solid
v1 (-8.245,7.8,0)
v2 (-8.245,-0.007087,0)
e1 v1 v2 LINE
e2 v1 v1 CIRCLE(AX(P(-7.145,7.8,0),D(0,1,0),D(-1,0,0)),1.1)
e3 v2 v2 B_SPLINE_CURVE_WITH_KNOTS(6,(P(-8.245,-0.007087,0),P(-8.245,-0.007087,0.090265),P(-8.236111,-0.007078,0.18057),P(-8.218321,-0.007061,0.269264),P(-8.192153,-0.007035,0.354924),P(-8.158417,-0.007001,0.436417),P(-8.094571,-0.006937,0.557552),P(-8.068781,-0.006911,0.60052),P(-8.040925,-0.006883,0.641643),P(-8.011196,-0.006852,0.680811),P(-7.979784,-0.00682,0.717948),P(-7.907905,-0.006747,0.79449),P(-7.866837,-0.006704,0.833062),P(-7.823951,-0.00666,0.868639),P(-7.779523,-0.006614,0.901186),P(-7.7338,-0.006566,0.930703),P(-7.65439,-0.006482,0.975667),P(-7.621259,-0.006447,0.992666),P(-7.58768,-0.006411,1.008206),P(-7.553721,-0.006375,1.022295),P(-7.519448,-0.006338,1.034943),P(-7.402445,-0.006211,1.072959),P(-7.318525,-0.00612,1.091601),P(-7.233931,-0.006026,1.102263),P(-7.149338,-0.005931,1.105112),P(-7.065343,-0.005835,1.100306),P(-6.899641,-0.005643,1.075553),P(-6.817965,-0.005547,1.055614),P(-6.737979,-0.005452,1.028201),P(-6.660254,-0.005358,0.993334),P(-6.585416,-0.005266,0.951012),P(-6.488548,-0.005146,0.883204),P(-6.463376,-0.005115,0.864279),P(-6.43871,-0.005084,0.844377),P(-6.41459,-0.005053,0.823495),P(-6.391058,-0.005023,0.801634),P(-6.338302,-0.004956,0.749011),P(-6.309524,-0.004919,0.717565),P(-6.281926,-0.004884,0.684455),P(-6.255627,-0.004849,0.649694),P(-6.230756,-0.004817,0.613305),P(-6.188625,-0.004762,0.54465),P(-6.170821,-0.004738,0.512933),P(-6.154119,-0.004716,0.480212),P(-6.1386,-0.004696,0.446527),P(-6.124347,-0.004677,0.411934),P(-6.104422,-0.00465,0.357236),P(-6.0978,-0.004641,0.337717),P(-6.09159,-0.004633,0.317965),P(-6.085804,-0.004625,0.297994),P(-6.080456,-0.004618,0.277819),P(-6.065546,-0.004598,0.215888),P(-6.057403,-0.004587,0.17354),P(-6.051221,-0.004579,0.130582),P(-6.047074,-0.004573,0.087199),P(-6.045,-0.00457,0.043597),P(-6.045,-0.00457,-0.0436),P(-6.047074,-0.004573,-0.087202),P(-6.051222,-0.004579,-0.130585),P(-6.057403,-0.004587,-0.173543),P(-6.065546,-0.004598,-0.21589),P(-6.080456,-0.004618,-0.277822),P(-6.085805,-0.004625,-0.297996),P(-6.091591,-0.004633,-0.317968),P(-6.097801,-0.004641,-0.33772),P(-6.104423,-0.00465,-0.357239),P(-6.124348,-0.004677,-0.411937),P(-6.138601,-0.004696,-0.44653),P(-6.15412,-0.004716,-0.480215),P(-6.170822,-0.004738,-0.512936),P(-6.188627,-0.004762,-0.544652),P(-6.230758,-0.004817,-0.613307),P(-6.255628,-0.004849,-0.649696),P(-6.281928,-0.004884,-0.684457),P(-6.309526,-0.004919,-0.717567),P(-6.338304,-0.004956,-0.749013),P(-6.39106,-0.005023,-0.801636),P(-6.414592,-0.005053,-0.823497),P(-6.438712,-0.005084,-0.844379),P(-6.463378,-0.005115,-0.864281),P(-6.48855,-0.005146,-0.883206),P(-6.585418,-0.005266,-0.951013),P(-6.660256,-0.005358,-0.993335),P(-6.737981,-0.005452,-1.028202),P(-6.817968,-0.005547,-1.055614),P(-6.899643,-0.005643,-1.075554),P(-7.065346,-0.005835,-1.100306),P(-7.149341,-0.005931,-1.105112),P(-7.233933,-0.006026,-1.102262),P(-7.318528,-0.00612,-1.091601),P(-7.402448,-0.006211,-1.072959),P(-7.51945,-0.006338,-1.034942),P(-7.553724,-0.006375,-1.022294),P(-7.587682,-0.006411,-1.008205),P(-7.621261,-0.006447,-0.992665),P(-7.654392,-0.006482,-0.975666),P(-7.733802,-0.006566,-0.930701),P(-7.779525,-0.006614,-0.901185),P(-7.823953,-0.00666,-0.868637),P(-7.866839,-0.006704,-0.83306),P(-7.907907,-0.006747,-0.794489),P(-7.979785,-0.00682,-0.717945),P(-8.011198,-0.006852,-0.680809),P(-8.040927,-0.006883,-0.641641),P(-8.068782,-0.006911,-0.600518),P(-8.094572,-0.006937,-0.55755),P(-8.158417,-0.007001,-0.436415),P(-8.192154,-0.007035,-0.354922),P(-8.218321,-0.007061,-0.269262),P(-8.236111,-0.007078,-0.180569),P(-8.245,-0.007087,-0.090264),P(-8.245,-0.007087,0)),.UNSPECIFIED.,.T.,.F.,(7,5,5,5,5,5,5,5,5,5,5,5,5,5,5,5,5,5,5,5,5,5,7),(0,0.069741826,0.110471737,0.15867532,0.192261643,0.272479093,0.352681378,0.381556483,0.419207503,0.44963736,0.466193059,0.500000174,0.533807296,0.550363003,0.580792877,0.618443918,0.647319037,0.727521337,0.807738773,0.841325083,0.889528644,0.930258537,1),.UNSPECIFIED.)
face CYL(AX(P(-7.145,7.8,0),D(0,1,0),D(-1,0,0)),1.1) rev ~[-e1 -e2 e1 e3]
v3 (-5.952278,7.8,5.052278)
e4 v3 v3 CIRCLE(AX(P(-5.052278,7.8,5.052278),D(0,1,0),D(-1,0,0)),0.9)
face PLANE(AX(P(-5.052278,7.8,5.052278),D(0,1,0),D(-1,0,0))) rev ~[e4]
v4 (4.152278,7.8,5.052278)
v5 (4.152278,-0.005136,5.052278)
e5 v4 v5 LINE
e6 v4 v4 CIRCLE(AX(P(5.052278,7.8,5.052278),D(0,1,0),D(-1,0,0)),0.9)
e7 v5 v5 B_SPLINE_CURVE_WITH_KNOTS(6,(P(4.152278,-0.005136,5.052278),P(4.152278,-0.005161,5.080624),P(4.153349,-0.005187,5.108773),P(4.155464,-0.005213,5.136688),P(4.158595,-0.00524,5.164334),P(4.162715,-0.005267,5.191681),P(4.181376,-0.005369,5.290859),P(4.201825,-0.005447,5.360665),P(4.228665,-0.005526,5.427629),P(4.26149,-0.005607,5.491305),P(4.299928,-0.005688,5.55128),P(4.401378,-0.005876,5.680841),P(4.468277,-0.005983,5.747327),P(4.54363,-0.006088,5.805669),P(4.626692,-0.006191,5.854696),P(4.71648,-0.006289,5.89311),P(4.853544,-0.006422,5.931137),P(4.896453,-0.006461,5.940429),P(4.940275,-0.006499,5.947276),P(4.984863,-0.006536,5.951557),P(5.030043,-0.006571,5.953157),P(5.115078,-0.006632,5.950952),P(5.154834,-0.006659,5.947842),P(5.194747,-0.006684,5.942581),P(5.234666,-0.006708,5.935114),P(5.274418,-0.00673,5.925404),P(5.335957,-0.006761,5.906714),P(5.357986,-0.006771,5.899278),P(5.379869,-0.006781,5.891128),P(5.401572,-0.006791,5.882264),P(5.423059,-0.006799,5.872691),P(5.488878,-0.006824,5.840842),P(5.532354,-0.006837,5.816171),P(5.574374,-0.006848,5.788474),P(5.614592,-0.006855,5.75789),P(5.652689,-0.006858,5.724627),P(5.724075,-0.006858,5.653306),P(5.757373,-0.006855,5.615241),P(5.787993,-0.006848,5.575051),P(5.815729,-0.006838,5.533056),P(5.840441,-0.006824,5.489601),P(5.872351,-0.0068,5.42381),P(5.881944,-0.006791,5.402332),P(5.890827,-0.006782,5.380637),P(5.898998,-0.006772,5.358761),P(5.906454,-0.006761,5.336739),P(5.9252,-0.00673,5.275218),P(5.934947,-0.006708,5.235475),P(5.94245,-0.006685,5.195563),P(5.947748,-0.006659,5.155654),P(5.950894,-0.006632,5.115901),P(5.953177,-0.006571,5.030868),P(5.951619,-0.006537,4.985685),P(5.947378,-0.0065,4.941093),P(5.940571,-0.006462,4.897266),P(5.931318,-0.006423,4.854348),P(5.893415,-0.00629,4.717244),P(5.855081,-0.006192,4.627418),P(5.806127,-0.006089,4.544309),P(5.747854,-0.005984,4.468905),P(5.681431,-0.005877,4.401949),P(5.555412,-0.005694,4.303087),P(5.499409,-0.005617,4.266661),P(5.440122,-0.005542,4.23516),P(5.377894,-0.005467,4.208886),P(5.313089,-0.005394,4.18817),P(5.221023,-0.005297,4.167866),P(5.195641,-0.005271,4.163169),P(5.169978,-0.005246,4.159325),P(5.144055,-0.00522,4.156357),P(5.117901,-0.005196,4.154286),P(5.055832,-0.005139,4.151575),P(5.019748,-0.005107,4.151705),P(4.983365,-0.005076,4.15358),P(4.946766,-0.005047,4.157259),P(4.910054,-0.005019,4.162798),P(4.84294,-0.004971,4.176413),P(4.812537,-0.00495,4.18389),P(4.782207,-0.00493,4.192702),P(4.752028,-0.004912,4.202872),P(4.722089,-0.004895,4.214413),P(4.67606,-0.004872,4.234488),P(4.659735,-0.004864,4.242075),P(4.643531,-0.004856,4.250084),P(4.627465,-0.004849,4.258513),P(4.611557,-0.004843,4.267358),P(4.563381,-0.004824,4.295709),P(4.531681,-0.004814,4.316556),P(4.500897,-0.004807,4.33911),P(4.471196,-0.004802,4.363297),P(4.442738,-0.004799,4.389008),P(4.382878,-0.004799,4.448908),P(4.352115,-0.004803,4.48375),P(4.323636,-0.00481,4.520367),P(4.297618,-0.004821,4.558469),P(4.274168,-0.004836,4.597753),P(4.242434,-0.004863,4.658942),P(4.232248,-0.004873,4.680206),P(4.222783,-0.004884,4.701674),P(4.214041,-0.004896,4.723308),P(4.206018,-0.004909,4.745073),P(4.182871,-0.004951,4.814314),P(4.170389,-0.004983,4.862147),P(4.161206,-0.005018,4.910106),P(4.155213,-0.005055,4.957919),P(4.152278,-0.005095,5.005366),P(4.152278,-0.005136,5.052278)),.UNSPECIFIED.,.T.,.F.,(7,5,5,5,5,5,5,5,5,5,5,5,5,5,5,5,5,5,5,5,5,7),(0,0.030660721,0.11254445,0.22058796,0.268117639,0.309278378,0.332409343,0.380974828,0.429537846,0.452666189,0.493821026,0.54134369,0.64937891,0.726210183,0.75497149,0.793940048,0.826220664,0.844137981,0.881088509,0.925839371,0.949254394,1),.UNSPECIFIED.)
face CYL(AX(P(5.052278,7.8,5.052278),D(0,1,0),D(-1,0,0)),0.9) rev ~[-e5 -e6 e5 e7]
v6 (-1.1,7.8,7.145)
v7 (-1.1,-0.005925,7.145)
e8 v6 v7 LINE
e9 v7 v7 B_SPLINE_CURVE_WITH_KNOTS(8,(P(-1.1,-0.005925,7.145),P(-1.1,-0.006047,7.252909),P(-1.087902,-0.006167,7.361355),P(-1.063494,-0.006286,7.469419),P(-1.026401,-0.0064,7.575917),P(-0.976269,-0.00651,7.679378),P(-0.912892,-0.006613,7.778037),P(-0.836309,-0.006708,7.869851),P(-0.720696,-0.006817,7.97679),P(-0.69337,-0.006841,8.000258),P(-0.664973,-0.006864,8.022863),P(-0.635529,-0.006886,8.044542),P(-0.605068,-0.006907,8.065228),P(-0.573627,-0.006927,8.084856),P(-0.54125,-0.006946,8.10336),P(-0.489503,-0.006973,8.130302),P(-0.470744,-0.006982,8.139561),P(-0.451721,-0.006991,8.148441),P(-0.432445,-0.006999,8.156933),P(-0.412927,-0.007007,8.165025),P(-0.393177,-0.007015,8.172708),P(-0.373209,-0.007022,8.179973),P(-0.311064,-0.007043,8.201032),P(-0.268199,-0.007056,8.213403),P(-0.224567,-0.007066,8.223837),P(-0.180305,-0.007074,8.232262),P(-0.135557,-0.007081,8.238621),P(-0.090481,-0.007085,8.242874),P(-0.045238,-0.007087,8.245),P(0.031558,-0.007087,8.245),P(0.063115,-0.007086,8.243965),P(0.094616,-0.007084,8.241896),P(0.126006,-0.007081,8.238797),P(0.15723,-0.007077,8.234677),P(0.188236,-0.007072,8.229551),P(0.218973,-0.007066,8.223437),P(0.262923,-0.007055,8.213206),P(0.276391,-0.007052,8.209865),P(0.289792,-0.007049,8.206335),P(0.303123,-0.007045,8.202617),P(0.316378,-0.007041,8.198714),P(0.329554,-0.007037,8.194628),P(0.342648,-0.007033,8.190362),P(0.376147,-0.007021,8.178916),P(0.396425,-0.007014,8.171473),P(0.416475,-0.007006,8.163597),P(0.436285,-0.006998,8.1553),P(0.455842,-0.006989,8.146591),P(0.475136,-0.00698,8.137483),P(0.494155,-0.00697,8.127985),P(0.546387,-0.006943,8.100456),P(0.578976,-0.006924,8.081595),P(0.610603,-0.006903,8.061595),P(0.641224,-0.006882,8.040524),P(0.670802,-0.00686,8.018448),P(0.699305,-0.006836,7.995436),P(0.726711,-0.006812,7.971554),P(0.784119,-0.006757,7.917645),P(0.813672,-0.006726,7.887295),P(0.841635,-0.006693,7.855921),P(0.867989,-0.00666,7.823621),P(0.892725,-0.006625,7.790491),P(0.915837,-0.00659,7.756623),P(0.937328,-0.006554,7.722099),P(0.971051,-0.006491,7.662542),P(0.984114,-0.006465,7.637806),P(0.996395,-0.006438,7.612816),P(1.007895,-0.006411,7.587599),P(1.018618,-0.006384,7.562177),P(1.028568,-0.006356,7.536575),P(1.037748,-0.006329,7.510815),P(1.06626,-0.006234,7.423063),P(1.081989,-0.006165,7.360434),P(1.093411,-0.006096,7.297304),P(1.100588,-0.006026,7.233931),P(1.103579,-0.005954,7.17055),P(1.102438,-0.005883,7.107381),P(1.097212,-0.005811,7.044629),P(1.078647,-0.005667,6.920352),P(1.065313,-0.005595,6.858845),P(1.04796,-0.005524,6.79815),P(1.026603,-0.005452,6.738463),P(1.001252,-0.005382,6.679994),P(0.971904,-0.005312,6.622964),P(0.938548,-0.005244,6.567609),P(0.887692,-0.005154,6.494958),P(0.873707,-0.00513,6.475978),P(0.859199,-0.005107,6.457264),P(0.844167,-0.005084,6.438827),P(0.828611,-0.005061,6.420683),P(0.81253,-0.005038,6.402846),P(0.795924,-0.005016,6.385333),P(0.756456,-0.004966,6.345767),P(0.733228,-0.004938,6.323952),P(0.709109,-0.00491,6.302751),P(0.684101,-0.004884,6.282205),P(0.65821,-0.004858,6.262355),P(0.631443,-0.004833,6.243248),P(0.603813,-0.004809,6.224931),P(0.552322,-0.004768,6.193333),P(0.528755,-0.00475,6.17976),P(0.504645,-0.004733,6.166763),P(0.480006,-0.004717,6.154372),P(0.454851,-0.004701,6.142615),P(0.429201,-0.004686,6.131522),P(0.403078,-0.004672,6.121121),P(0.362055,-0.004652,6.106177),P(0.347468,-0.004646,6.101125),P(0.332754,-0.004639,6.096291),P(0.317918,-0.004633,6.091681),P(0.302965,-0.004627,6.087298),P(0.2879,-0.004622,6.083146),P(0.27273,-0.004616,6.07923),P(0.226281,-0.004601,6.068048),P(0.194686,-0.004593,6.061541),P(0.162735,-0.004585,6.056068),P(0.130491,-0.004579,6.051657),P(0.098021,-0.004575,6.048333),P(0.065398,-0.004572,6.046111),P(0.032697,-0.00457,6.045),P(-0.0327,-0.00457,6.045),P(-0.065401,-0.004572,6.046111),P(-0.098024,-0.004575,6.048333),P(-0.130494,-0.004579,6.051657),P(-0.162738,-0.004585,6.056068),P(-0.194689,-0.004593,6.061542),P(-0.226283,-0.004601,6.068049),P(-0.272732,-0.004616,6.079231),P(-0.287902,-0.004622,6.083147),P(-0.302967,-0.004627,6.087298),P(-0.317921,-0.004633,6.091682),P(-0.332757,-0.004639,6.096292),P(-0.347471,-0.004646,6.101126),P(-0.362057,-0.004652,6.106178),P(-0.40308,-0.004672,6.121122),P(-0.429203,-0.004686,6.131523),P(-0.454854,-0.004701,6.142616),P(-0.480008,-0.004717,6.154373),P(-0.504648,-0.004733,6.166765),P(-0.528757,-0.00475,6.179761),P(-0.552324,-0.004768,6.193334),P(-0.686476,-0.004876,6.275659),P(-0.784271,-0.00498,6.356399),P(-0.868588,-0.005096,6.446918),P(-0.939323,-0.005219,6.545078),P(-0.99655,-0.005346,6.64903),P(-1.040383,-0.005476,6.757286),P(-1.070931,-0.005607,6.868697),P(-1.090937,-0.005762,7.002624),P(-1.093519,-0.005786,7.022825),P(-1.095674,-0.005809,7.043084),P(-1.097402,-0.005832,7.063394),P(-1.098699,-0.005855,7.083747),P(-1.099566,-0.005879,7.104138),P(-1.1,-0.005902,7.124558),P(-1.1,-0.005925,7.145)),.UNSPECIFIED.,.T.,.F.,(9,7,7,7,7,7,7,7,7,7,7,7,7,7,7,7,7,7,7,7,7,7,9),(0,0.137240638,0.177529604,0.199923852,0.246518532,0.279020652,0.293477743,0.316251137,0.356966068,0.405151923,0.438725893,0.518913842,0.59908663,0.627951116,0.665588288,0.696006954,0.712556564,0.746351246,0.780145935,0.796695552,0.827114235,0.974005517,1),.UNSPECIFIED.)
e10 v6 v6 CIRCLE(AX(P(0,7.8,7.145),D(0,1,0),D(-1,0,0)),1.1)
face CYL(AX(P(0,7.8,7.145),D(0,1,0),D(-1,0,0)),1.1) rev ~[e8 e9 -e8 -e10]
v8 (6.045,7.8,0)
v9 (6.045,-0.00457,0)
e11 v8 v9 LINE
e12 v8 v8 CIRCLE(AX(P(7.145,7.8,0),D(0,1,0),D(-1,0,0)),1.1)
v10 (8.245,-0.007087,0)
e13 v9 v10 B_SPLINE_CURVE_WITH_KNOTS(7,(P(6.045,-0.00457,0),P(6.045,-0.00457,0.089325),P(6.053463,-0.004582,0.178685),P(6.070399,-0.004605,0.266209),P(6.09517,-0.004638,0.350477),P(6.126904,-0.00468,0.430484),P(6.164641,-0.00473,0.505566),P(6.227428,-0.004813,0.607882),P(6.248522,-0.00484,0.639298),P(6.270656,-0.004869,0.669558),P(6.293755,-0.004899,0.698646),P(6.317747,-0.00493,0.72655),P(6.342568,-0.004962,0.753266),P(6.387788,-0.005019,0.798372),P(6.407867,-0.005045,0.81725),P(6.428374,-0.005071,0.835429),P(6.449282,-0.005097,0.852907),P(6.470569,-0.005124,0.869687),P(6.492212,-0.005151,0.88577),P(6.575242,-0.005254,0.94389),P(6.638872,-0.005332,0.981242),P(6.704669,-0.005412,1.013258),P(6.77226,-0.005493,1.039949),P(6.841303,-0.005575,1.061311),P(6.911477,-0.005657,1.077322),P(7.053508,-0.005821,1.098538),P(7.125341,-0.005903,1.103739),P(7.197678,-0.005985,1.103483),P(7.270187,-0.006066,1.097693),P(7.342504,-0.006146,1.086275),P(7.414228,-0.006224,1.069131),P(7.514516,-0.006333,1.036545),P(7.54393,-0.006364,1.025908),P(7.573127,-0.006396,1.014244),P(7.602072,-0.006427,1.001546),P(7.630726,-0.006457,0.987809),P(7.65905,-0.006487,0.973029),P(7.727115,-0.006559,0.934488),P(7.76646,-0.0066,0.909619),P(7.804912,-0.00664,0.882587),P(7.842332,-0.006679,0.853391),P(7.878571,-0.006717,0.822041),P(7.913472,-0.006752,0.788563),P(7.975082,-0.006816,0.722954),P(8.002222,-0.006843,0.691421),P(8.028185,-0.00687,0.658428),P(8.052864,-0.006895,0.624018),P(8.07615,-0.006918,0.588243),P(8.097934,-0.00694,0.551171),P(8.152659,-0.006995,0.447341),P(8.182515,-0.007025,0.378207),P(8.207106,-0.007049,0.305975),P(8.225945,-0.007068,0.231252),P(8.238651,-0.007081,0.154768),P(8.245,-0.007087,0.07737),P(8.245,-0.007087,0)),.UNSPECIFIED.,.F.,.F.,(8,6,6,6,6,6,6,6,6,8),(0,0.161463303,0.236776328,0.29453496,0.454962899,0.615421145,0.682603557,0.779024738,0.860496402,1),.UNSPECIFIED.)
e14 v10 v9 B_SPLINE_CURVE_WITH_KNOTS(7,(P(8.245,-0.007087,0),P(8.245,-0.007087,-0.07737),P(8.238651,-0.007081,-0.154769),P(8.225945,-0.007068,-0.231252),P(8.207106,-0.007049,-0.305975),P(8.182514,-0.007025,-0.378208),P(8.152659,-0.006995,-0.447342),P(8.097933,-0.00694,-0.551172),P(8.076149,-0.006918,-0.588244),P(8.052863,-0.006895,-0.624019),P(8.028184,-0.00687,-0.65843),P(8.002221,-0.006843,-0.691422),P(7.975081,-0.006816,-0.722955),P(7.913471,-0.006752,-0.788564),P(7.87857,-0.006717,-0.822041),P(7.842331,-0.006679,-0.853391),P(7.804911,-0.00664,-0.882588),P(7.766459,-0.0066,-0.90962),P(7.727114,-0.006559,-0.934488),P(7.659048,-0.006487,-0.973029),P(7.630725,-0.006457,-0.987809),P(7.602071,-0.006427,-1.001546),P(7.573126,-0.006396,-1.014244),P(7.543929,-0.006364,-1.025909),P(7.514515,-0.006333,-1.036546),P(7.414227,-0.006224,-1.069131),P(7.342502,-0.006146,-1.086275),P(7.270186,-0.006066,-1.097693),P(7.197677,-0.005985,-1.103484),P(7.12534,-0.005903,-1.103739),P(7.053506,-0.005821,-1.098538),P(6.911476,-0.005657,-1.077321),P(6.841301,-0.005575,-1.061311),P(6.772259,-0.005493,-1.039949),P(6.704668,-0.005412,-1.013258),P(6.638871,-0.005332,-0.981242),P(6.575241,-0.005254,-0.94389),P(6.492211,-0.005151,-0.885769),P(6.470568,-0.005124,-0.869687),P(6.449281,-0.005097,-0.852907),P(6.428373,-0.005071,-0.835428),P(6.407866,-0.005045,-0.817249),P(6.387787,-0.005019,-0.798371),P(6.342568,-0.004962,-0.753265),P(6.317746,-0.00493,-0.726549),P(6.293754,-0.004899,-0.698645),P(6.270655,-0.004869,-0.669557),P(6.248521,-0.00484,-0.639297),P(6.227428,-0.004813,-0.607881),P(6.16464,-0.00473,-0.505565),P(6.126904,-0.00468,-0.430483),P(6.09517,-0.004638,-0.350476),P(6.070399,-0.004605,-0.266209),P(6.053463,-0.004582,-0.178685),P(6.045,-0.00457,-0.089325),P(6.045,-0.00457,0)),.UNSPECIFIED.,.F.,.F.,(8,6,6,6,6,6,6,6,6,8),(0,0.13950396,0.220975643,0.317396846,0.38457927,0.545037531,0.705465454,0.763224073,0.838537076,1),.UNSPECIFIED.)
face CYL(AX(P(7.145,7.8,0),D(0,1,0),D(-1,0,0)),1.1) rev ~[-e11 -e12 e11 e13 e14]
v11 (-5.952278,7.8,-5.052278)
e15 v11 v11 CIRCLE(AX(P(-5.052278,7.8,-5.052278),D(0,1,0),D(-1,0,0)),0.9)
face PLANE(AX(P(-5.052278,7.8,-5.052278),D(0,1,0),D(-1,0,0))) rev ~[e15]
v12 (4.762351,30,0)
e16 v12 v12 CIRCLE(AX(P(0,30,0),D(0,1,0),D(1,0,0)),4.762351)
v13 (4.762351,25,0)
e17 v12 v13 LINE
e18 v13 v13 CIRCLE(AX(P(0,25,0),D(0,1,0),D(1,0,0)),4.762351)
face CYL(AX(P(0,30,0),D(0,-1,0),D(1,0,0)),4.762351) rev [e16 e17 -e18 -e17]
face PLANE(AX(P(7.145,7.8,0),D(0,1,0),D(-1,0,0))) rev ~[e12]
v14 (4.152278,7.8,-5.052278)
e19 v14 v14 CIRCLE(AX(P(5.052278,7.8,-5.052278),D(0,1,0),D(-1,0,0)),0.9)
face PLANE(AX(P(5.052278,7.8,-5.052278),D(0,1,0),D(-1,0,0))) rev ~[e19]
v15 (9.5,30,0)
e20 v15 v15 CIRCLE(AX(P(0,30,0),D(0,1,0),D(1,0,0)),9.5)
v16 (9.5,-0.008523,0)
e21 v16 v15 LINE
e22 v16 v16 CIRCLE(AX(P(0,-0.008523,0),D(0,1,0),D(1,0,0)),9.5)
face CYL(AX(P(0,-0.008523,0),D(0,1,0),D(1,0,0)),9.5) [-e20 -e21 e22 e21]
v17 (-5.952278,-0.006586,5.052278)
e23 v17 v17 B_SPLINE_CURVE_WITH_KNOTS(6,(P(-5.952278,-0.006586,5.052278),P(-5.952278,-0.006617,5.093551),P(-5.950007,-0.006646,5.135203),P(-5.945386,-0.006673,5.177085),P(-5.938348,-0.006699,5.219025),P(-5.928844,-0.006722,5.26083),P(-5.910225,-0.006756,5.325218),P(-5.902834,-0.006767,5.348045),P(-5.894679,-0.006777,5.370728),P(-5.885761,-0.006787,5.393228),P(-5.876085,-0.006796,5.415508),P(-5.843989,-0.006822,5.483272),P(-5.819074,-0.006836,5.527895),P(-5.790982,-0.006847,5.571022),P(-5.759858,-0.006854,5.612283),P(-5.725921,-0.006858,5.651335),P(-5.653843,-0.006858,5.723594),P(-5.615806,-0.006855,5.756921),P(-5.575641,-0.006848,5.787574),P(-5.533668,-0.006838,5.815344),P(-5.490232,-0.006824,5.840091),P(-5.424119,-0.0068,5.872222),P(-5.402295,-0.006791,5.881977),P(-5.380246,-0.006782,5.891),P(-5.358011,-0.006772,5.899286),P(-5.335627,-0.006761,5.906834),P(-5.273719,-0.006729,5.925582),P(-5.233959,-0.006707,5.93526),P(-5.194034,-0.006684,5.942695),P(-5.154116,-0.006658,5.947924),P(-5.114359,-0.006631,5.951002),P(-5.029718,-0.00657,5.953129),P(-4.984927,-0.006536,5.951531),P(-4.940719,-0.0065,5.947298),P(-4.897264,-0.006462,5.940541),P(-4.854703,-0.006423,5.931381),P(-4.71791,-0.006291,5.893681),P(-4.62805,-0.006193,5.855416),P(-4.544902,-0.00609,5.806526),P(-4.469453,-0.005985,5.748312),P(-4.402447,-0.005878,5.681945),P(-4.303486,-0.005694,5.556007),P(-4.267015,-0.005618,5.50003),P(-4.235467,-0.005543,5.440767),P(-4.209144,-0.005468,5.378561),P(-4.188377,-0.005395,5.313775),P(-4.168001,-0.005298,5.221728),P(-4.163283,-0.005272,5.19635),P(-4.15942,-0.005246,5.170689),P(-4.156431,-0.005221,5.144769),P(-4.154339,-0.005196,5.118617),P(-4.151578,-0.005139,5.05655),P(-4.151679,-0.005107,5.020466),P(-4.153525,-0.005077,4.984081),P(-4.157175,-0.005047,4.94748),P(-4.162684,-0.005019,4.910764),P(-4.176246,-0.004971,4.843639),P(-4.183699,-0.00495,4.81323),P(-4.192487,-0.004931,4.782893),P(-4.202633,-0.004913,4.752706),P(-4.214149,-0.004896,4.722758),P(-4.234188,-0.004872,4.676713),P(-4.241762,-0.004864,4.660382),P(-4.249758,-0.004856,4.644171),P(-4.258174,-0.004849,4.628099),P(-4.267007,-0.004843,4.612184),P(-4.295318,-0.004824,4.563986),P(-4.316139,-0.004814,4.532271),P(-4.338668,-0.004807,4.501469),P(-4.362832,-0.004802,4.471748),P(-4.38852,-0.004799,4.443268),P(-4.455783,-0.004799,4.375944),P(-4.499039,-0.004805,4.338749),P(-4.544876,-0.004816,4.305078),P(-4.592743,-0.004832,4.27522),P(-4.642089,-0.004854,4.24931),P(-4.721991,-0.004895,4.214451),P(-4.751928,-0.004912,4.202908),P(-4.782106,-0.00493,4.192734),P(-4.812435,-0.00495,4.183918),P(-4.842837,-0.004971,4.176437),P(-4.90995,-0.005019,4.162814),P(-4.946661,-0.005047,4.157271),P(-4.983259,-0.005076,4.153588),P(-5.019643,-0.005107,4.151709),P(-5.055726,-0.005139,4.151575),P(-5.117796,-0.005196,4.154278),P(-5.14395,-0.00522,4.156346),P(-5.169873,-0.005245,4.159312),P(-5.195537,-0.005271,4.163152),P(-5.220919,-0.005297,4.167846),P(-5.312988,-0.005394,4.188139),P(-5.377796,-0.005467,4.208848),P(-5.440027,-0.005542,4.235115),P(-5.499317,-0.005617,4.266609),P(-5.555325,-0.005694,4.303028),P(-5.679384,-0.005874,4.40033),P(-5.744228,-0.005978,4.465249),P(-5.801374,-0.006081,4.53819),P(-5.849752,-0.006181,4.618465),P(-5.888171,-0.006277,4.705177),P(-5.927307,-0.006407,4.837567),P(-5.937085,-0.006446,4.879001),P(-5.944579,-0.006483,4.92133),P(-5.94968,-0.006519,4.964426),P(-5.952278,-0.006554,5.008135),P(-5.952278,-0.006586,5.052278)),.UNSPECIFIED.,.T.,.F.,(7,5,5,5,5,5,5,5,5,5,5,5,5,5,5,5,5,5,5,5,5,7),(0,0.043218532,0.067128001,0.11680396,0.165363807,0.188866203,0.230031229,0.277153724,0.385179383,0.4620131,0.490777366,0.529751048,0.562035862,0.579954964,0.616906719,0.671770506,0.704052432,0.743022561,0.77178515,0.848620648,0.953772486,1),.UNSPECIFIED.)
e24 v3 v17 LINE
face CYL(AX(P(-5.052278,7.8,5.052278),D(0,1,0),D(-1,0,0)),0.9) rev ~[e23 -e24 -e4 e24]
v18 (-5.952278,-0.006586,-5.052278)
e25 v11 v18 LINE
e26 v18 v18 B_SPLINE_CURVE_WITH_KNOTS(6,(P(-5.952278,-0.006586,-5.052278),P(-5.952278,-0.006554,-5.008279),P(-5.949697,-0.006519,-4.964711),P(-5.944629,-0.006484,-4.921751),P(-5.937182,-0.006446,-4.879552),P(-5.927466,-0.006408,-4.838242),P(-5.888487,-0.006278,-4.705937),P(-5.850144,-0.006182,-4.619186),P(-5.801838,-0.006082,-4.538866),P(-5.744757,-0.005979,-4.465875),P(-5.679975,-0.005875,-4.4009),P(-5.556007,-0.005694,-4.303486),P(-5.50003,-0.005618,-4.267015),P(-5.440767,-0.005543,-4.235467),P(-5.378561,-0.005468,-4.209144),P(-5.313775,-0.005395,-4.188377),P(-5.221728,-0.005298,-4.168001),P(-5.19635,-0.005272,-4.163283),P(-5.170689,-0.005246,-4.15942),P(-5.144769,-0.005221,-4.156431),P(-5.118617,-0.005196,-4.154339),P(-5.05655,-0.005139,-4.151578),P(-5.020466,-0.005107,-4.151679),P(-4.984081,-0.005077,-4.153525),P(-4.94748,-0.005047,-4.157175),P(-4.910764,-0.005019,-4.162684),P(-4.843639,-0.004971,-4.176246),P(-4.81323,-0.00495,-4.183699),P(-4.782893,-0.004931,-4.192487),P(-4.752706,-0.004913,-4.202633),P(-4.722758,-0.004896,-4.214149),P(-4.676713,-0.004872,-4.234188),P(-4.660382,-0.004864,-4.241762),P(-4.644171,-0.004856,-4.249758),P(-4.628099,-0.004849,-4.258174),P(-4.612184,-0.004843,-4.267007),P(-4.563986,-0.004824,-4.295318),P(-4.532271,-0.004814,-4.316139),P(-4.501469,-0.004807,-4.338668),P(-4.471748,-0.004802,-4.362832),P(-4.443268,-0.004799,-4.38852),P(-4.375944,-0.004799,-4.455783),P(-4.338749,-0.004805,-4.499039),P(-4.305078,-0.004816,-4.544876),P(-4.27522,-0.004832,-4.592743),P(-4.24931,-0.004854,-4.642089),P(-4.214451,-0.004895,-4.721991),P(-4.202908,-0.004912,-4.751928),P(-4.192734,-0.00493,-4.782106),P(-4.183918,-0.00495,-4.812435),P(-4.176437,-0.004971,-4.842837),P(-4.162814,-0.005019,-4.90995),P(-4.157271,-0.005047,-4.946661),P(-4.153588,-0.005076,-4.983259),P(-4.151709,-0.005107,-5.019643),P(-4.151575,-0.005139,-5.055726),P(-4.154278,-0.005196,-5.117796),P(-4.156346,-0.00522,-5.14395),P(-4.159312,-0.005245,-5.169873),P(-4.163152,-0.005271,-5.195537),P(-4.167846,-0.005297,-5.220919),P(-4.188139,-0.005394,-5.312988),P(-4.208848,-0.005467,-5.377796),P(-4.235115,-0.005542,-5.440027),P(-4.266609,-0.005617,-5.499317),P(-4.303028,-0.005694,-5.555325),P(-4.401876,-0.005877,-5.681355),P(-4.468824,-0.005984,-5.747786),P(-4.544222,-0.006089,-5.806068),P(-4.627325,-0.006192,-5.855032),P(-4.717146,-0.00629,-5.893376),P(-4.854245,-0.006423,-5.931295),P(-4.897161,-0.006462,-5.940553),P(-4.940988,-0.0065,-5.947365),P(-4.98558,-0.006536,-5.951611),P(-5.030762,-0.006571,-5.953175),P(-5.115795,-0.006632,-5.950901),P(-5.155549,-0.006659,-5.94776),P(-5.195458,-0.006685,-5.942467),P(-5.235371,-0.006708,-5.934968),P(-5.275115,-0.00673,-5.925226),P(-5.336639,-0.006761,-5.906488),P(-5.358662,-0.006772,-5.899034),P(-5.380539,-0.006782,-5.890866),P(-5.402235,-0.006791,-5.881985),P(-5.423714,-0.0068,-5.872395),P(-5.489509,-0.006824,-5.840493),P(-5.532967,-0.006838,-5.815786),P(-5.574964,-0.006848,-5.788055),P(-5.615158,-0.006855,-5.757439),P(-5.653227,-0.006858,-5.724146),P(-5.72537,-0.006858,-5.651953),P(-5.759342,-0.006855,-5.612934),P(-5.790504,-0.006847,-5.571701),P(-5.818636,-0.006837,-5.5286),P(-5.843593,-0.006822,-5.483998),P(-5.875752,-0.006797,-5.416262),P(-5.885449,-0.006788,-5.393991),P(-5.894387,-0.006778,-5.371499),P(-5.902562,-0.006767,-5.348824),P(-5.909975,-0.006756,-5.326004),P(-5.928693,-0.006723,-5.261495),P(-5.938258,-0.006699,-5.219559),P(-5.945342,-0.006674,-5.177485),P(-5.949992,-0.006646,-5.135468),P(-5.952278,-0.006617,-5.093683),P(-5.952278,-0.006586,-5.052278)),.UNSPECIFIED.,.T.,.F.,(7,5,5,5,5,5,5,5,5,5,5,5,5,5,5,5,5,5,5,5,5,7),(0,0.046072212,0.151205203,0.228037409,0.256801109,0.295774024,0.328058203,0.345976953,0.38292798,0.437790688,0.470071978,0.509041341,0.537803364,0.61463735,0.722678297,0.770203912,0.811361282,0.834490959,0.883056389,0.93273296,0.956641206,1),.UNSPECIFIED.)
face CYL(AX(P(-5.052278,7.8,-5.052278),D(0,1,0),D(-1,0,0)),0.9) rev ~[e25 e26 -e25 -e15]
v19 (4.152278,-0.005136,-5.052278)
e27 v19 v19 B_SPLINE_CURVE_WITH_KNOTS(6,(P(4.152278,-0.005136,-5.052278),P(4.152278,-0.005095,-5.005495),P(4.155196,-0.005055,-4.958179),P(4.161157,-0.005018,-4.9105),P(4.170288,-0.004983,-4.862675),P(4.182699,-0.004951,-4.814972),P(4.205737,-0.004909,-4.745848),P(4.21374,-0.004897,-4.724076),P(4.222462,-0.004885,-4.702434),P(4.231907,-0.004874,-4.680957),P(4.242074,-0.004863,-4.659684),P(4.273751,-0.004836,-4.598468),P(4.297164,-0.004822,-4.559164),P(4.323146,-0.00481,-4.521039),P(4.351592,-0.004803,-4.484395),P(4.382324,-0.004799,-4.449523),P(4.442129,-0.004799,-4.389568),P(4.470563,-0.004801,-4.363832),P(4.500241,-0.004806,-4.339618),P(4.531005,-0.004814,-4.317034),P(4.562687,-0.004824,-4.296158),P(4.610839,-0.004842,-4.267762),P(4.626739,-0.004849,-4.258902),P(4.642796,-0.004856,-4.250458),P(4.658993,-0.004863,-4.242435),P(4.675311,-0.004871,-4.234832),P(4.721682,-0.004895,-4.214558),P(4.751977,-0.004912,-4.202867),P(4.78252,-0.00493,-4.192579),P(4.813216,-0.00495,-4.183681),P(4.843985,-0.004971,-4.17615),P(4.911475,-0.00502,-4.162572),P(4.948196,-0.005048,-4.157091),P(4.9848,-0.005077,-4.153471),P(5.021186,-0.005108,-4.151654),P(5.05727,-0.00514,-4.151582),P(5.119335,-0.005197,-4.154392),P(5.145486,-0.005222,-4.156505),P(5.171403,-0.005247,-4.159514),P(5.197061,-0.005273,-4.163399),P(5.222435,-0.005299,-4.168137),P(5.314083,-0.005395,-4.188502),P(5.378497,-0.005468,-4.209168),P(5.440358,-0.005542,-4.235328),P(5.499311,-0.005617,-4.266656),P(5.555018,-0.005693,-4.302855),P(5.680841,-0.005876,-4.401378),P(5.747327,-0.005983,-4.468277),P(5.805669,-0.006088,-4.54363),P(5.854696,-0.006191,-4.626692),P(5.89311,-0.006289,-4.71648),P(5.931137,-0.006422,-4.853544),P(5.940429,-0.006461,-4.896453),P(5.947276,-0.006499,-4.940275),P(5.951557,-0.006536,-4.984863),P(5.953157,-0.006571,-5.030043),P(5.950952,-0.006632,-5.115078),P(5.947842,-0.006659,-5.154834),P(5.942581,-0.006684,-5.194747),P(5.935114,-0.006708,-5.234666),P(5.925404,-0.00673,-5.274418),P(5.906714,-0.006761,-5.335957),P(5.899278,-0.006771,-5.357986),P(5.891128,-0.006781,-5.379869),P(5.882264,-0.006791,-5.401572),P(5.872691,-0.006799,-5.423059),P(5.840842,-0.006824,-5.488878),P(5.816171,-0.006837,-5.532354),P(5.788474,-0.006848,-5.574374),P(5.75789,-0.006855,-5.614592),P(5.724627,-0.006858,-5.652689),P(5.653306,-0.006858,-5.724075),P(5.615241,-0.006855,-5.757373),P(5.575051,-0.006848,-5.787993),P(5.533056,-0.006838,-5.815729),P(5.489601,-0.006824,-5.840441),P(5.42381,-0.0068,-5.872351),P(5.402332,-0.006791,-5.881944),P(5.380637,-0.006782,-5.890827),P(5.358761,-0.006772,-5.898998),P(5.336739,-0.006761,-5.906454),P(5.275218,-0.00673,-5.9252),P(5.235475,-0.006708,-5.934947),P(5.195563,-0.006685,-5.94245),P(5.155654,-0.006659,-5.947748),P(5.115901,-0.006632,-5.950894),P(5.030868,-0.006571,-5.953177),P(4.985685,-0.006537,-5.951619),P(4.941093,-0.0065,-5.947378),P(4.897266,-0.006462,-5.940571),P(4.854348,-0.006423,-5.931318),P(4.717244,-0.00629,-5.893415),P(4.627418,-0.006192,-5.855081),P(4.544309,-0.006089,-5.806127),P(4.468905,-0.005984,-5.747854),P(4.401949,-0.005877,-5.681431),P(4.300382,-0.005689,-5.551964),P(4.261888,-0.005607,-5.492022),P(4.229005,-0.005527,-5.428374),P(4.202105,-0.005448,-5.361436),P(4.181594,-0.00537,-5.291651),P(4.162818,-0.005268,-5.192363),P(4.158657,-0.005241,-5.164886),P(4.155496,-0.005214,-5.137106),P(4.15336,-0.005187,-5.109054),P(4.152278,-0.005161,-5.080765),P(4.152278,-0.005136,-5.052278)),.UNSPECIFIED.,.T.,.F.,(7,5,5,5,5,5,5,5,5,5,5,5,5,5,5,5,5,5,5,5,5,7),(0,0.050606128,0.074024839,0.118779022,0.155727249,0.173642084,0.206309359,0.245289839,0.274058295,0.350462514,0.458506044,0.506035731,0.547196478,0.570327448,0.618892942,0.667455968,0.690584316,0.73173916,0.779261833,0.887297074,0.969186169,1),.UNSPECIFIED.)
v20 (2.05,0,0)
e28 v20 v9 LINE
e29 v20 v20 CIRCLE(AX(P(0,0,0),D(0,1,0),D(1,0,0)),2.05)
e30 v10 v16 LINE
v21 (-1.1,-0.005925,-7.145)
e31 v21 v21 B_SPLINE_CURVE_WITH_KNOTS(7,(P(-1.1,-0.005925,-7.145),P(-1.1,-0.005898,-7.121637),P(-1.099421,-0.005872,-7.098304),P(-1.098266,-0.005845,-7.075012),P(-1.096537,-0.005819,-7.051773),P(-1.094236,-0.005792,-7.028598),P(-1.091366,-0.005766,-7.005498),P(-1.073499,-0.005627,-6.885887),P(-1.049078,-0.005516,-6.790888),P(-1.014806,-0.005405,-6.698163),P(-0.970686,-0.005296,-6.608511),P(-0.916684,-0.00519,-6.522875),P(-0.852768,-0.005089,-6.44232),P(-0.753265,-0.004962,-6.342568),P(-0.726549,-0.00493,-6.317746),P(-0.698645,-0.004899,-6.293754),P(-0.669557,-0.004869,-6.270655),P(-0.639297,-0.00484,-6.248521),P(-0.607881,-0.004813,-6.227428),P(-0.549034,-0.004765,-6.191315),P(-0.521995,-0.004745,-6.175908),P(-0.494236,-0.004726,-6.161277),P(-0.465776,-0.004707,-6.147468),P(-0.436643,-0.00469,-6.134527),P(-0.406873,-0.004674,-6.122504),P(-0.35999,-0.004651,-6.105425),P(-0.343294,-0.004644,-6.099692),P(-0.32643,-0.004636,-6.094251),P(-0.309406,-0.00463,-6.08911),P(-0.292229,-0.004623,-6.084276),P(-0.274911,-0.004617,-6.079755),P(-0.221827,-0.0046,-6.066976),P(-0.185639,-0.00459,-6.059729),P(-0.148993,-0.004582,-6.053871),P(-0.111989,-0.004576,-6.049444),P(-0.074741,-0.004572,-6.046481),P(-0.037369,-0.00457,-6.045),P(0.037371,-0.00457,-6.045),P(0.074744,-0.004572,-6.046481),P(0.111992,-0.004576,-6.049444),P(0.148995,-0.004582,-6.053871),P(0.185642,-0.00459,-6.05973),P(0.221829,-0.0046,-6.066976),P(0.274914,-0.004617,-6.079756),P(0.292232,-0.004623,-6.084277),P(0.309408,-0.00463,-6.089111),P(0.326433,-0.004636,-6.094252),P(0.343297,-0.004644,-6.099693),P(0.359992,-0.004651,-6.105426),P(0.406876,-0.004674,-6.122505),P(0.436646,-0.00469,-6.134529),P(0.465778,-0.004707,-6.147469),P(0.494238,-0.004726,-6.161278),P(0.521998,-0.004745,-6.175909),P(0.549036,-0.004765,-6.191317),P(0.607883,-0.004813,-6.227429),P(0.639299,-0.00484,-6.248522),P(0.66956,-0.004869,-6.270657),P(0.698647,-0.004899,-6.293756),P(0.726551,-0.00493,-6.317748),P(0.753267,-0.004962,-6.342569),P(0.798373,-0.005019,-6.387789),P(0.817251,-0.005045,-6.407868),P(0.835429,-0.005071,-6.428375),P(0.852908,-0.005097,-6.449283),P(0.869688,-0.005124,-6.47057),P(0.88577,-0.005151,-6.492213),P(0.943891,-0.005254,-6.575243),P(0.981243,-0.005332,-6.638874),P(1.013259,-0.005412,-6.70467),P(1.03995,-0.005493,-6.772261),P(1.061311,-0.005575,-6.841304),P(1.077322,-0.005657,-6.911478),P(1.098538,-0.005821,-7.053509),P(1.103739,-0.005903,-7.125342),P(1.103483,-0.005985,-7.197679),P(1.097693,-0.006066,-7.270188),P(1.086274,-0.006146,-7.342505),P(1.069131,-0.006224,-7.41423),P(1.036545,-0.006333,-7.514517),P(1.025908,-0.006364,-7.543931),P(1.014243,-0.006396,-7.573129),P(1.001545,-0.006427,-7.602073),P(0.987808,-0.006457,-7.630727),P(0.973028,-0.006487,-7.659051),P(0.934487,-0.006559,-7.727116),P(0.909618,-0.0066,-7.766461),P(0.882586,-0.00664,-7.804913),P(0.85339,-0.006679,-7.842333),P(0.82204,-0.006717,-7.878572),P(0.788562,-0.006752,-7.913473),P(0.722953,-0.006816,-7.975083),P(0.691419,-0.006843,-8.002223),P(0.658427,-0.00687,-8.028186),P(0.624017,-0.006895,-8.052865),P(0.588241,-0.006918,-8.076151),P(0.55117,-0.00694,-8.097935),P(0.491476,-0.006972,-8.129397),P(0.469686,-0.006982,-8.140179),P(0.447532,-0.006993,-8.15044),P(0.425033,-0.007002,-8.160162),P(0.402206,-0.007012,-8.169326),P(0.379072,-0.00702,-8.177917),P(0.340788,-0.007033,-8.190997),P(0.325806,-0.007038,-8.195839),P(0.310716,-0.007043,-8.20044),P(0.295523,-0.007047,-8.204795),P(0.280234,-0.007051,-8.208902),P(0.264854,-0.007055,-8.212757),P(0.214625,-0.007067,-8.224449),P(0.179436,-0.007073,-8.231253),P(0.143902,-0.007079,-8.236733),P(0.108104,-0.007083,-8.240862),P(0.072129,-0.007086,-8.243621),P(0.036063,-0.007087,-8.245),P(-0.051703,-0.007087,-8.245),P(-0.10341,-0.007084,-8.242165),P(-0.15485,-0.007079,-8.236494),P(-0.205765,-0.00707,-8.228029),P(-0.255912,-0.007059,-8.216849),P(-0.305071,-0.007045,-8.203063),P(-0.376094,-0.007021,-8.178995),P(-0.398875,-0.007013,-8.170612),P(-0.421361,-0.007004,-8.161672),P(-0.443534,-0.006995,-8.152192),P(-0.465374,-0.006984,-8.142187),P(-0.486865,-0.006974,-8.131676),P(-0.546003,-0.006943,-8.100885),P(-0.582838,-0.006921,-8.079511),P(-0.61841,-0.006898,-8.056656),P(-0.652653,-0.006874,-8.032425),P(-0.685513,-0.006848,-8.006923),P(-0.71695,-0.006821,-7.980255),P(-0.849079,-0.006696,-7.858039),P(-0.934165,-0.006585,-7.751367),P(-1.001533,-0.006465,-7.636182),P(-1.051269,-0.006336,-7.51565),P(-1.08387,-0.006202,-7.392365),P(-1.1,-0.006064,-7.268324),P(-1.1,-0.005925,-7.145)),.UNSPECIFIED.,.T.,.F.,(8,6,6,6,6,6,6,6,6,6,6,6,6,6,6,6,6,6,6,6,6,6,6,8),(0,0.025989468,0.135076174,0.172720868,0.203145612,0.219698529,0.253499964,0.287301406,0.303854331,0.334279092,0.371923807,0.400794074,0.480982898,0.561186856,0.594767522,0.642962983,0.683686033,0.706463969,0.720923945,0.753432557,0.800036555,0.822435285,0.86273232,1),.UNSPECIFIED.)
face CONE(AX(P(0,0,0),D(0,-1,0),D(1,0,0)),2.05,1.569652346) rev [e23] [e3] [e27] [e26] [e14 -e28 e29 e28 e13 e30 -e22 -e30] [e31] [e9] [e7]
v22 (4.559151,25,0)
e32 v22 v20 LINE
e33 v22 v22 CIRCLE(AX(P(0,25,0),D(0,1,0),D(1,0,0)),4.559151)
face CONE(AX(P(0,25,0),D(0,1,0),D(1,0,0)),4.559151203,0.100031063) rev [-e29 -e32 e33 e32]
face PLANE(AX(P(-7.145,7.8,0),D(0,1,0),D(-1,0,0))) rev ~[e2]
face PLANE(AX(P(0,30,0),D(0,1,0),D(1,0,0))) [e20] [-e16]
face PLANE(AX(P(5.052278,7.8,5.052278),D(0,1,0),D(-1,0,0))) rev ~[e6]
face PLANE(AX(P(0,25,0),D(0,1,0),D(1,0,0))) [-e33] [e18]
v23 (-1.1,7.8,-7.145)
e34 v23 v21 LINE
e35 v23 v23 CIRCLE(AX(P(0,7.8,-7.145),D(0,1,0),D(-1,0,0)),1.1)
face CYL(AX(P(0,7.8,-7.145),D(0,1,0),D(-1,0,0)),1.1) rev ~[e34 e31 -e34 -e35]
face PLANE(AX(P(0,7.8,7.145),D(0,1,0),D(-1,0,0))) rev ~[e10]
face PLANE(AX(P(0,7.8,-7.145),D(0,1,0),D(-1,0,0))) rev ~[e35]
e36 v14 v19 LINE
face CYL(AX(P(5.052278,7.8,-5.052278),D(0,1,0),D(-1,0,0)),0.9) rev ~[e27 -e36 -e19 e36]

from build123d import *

# Parameters (mm, degrees)
CUT_EXTRUDE2_START = -22.2
SKETCH4_R          = 1.1
SKETCH4_R_2        = 0.9
CUT_EXTRUDE2_DEPTH = 8


with BuildPart() as part:
    # Sketch1 → Revolve1 (revolve)
    with BuildSketch(Plane.XY):
        Polygon((4.762351203, 30), (4.762351203, 25), (4.559151203, 25), (2.05, 0), (9.5, -0.008522661), (9.5, 30), align=None)
    revolve(axis=Axis((0, 0, 0), (0, 1, 0)))

    # Sketch4 → Cut-Extrude2 (cut)
    with BuildSketch(Plane(origin=(0, 30, 0), x_dir=(1, 0, 0), z_dir=(0, 1, 0)).offset(CUT_EXTRUDE2_START)):
        with Locations(Location((0, 7.145, 0), (0, 0, 180))):
            Circle(SKETCH4_R)
        with Locations(Location((7.145, 0, 0), (0, 0, 180))):
            Circle(SKETCH4_R)
        with Locations(Location((0, -7.145, 0), (0, 0, 180))):
            Circle(SKETCH4_R)
        with Locations(Location((-7.145, 0, 0), (0, 0, 180))):
            Circle(SKETCH4_R)
        with Locations(Location((5.052277952, 5.052277952, 0), (0, 0, 180))):
            Circle(SKETCH4_R_2)
        with Locations(Location((5.052277952, -5.052277952, 0), (0, 0, 180))):
            Circle(SKETCH4_R_2)
        with Locations(Location((-5.052277952, -5.052277952, 0), (0, 0, 180))):
            Circle(SKETCH4_R_2)
        with Locations(Location((-5.052277952, 5.052277952, 0), (0, 0, 180))):
            Circle(SKETCH4_R_2)
    extrude(amount=-CUT_EXTRUDE2_DEPTH, mode=Mode.SUBTRACT)


solid = part.part
